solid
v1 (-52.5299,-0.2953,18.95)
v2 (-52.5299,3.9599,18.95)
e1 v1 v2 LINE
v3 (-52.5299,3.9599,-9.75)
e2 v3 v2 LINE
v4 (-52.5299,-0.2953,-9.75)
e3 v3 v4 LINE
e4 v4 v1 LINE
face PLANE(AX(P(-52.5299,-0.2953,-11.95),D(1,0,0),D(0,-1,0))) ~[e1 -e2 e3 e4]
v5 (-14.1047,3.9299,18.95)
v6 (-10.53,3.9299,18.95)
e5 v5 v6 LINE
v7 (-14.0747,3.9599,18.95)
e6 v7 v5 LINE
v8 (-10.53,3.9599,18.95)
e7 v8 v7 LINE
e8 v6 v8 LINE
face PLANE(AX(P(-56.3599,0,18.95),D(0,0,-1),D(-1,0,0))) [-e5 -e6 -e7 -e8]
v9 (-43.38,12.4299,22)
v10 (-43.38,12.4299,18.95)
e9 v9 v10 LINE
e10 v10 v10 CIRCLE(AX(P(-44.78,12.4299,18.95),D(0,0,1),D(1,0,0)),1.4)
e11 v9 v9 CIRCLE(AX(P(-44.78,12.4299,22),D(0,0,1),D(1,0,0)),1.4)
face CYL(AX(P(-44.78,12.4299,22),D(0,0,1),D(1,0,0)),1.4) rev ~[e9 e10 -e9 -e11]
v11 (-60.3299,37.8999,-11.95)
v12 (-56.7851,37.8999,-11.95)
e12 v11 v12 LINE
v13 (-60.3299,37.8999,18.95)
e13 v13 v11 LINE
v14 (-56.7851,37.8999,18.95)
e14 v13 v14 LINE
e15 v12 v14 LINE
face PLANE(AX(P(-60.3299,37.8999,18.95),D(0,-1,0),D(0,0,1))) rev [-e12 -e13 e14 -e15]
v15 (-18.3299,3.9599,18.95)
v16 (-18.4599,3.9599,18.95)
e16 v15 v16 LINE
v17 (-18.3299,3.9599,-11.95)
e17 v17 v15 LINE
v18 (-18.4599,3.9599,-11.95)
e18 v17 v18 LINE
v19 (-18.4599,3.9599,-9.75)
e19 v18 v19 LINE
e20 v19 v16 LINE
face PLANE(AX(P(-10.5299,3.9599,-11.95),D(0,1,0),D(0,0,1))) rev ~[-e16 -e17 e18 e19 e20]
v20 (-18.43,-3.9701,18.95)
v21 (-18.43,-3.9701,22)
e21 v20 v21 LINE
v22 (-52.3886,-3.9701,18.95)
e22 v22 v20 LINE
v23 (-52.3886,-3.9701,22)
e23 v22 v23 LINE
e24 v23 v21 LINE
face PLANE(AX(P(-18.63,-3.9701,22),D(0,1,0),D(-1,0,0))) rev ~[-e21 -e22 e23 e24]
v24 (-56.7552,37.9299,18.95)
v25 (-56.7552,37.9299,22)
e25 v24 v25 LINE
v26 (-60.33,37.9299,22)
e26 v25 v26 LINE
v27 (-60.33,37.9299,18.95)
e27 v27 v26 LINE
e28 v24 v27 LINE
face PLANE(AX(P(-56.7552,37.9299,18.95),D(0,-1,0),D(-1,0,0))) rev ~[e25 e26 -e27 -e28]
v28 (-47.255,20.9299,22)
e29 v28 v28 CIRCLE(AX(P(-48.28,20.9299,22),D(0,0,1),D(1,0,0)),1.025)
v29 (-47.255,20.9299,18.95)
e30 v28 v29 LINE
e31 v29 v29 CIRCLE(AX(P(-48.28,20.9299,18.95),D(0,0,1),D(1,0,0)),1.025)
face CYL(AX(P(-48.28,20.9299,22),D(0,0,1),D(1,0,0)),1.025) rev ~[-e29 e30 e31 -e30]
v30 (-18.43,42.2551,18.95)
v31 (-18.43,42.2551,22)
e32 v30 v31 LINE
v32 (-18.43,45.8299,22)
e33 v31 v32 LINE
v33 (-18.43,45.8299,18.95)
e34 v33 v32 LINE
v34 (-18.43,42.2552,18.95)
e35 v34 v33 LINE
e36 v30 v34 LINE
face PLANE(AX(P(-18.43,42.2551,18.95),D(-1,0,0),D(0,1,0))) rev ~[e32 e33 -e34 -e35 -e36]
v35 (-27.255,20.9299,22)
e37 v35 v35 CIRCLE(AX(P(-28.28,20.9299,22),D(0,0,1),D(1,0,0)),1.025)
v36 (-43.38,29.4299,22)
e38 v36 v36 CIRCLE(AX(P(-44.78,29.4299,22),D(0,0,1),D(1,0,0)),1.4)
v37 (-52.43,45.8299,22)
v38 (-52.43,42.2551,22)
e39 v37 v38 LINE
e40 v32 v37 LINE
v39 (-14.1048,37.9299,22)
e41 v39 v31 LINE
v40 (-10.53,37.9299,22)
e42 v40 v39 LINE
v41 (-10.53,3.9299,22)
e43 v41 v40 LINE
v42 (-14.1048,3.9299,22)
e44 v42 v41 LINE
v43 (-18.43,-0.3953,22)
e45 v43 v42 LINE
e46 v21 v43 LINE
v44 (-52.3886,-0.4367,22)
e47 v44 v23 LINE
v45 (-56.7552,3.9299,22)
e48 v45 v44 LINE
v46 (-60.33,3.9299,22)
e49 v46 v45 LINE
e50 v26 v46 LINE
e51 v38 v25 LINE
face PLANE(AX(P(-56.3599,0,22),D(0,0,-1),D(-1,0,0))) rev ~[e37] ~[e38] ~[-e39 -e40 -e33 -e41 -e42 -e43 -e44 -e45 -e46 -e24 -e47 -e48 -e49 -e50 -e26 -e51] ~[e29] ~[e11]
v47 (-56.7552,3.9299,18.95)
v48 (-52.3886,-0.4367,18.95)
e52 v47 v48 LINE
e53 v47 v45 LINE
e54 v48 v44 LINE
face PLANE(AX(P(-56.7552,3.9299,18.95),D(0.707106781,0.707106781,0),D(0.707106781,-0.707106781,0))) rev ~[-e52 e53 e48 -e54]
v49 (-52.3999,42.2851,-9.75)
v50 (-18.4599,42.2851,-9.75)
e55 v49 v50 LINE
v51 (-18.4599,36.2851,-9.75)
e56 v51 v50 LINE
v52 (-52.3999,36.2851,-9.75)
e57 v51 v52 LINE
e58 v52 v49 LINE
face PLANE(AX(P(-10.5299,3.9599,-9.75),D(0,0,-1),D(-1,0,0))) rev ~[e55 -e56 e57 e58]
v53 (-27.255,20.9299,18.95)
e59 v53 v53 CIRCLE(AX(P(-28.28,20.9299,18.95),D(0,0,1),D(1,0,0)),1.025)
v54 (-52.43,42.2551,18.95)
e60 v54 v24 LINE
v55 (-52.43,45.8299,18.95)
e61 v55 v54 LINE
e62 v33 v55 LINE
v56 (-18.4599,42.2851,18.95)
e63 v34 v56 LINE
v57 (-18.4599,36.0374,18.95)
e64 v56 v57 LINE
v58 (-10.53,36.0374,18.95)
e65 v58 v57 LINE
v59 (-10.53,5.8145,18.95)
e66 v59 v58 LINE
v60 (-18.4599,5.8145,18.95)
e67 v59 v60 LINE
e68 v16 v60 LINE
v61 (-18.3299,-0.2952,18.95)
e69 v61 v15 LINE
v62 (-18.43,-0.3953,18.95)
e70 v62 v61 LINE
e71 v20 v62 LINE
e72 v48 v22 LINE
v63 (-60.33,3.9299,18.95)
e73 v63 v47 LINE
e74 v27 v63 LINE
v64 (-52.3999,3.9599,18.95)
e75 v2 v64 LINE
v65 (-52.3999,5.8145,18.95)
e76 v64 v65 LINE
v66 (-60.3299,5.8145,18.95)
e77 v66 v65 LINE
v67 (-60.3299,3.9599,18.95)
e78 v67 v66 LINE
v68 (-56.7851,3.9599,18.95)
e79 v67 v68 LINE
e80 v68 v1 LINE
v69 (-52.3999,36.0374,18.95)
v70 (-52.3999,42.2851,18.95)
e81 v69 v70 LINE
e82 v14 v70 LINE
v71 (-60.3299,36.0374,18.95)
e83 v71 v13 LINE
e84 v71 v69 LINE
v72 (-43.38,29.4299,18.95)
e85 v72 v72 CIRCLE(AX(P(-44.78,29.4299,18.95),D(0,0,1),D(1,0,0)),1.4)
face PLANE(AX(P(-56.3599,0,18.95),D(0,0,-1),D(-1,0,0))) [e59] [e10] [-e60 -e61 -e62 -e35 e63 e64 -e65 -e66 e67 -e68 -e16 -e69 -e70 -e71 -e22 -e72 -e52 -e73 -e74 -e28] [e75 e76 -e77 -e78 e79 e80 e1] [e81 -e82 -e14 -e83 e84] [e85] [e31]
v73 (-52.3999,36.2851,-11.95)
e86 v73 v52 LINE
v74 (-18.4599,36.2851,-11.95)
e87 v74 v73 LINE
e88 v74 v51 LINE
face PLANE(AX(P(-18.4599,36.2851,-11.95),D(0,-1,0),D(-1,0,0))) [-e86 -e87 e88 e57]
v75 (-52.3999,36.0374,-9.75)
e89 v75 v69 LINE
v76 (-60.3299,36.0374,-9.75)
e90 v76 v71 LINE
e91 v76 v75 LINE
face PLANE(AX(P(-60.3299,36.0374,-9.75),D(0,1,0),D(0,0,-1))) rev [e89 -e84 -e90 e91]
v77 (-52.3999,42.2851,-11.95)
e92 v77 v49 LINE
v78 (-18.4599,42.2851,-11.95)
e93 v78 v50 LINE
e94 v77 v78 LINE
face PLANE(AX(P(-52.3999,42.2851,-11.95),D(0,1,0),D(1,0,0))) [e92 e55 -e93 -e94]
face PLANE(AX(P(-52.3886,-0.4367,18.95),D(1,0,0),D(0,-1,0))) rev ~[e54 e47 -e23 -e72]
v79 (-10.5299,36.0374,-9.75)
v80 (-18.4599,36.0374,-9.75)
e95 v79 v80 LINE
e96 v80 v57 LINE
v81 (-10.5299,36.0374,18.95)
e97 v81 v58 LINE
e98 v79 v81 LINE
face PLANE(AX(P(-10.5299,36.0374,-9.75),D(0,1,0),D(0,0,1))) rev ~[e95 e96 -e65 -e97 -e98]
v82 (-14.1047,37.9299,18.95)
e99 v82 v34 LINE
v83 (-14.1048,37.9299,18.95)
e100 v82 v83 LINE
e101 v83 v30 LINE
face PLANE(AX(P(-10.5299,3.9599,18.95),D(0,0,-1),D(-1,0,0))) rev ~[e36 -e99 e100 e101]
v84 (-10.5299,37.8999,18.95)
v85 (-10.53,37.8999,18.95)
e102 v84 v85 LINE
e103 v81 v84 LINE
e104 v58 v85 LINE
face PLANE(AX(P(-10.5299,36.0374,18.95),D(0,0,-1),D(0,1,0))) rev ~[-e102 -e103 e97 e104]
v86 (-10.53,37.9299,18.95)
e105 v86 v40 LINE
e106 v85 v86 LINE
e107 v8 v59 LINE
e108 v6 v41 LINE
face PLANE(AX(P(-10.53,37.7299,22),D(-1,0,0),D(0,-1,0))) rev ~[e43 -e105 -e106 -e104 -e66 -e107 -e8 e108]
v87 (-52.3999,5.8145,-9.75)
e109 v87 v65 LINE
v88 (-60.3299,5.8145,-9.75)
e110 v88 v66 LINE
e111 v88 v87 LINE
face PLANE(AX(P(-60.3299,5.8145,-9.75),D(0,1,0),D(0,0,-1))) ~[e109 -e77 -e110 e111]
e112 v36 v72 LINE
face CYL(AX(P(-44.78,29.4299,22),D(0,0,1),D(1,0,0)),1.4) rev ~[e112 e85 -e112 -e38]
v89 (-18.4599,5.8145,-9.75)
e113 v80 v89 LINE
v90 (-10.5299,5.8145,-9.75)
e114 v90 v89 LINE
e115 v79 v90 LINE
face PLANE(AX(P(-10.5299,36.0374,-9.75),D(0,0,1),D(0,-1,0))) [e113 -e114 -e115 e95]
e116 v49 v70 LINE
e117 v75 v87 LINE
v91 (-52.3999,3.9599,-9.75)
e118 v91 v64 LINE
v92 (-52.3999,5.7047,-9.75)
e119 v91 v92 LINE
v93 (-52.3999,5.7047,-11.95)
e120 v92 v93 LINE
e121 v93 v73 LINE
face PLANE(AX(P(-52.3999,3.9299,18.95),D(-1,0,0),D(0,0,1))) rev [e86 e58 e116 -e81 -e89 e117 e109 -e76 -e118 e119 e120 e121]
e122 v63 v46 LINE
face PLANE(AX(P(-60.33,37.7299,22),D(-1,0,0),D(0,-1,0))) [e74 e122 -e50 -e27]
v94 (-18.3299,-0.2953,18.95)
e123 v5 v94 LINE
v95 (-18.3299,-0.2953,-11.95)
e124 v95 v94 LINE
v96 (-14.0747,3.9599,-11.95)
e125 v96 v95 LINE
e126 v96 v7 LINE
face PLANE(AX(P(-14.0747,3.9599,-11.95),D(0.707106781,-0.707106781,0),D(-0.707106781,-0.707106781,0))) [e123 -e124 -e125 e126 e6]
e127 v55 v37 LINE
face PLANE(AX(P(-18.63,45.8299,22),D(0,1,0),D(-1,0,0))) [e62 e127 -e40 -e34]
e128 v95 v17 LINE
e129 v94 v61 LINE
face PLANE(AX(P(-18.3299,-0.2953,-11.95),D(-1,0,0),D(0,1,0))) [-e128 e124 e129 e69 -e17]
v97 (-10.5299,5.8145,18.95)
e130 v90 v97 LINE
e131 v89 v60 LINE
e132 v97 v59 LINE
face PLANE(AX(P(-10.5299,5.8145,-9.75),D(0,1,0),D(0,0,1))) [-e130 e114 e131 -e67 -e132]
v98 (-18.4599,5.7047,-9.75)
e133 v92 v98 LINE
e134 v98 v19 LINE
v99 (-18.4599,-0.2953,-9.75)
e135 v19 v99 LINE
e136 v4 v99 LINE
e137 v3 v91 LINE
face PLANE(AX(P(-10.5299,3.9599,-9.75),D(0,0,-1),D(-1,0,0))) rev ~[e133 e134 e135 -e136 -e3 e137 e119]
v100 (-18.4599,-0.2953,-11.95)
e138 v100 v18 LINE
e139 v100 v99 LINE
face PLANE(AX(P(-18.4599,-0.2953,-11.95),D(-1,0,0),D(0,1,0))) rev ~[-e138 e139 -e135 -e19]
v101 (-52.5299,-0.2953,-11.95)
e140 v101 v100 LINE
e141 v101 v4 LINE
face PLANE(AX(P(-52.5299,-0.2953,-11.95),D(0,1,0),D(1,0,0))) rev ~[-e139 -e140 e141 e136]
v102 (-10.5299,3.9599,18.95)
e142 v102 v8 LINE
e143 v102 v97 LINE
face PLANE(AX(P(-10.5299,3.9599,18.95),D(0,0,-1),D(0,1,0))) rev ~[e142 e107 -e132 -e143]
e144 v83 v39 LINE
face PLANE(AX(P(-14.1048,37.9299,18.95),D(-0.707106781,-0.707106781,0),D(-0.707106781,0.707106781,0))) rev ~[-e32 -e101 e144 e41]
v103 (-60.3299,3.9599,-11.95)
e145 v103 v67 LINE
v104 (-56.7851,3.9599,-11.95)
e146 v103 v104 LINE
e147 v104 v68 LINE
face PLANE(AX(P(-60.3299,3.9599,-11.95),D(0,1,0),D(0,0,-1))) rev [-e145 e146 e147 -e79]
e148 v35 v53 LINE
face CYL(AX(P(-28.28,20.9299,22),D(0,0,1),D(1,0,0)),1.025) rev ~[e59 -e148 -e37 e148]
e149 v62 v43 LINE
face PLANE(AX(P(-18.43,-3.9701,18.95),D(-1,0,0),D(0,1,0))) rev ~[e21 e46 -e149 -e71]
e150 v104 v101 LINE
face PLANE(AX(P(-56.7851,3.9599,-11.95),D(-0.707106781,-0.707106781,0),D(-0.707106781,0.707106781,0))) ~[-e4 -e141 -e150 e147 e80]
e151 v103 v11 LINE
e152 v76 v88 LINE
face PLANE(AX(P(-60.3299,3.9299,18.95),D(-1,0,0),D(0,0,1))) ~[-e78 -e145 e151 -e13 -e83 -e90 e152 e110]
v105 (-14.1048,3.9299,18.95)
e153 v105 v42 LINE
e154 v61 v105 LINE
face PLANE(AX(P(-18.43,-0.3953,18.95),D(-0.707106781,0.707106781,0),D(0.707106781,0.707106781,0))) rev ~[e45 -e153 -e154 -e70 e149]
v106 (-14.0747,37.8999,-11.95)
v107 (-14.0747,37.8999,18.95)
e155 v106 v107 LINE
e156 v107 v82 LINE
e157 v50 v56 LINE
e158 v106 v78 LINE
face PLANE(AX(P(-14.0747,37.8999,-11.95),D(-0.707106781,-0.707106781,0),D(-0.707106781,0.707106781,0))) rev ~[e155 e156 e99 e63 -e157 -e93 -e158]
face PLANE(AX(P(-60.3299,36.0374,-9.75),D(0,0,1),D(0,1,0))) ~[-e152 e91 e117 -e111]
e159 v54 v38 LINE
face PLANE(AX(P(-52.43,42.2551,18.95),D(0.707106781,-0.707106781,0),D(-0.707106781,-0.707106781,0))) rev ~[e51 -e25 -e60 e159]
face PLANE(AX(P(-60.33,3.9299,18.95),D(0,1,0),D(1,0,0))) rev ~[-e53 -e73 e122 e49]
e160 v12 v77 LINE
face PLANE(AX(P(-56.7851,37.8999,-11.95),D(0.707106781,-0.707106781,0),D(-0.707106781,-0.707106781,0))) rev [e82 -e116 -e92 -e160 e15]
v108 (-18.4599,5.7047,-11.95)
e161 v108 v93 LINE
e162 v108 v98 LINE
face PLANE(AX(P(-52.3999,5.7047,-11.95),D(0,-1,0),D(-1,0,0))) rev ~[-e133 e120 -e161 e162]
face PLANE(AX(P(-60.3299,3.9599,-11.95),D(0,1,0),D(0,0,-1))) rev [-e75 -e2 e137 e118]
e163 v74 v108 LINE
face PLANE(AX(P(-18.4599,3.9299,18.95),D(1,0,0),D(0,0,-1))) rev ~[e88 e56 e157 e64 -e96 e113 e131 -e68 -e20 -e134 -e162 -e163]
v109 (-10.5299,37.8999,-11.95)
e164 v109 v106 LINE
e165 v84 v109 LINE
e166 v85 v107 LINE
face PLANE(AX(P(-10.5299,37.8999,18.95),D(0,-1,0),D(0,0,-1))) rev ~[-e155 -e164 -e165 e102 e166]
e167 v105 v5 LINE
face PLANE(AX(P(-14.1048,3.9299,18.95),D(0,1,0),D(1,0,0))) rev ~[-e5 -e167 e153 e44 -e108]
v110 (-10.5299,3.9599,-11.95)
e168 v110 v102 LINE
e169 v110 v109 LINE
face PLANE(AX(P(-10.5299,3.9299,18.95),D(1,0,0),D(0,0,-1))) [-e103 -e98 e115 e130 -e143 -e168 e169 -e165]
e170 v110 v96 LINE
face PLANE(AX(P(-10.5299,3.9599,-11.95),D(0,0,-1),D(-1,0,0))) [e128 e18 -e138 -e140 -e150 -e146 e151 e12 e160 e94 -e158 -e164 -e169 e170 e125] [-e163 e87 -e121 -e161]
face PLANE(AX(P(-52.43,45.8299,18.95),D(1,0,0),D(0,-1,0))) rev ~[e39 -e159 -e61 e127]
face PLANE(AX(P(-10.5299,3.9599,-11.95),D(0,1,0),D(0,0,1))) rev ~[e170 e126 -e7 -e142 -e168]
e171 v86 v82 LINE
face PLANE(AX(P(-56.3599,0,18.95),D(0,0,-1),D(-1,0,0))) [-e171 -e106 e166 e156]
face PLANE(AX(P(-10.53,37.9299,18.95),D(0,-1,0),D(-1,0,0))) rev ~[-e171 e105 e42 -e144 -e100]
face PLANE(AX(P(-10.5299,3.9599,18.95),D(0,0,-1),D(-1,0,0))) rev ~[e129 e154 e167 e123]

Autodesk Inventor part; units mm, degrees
ref_plane "Work Plane1" through (-56.3599, 0, 22) normal (0, 0, -1) x (-1, 0, 0)
ref_plane "Arbeitsebene9" through (-61.2799, 5.9299, 18.95) normal (0, 0, 1) x (1, 0, 0)
sketch "Sketch1" plane through (-56.3599, 0, 22) normal (0, 0, -1) x (-1, 0, 0)
  line L0 (-4.0299, -0.3538) -> (-2.2322, 1.4439) construction
  arc A0 (-1.4439, 2.2322) -> (-2.2322, 1.4439) centre (-0.9299, 0.9299) ccw construction
  line L1 (-1.4439, 2.2322) -> (0.3538, 4.0299) construction
  line L2 (-37.8299, 42.8299) -> (-37.8299, 37.8299) construction
  line L3 (-37.8299, 37.8299) -> (-42.9208, 37.8299) construction
  line L4 (-37.8299, 42.2137) -> (-37.8299, 45.8299) construction
  line L5 (-37.8299, 45.8299) -> (-4.0299, 45.8299) construction
  line L6 (-4.0299, 45.8299) -> (-4.0299, 42.2137) construction
  line L7 (-4.0299, 4.0299) -> (0.3538, 4.0299) projected
  circle A1 centre (-20.9299, 20.9299) radius 17.5 projected
  line L8 (-20.9299, 58.9723) -> (17.1124, 20.9299) construction
  line L9 (17.1124, 20.9299) -> (-20.9299, -17.1124) construction
  line L10 (-20.9299, -17.1124) -> (-58.9723, 20.9299) construction
  line L11 (-58.9723, 20.9299) -> (-20.9299, 58.9723) construction
  line L12 (-20.9299, 58.9723) -> (-20.9299, -17.1124) construction
  line L13 (17.1124, 20.9299) -> (-58.9723, 20.9299) construction
  line L14 (-20.9299, 58.9723) -> (32.8701, 58.9723) construction
  line L15 (-43.4299, 43.4299) -> (1.5701, 43.4299) construction
  line L16 (1.5701, 43.4299) -> (1.5701, -1.5701) construction
  line L17 (1.5701, -1.5701) -> (-43.4299, -1.5701) construction
  line L18 (-43.4299, -1.5701) -> (-43.4299, 43.4299) construction
  line L19 (-43.4299, 43.4299) -> (1.5701, -1.5701) construction
  line L20 (1.5701, 43.4299) -> (-43.4299, -1.5701) construction
  line L21 (-43.4299, 5.3876) -> (-43.4299, 36.4723)
  line L22 (-43.4299, 36.4723) -> (-36.4723, 43.4299)
  line L23 (-36.4723, 43.4299) -> (-5.3876, 43.4299)
  line L24 (-5.3876, 43.4299) -> (1.5701, 36.4723)
  line L25 (1.5701, 36.4723) -> (1.5701, 5.3876)
  line L26 (1.5701, 5.3876) -> (-5.3876, -1.5701)
  line L27 (-5.3876, -1.5701) -> (-36.4723, -1.5701)
  line L28 (-36.4723, -1.5701) -> (-43.4299, 5.3876)
  line L29 (-4.0299, 42.2137) -> (-37.8299, 42.2137) projected
  line L30 (-4.0299, -0.3538) -> (-4.0299, 4.0299) projected
  circle A2 centre (-20.9299, 20.9299) radius 1.5
  line L31 (-10.9299, 10.9299) -> (-30.9299, 10.9299) construction
  line L32 (-30.9299, 10.9299) -> (-30.9299, 30.9299) construction
  line L33 (-30.9299, 30.9299) -> (-10.9299, 30.9299) construction
  line L34 (-10.9299, 30.9299) -> (-10.9299, 10.9299) construction
  line L35 (-10.9299, 10.9299) -> (-30.9299, 30.9299) construction
  line L36 (-30.9299, 10.9299) -> (-10.9299, 30.9299) construction
  circle A3 centre (-30.9299, 30.9299) radius 1.4
  circle A4 centre (-30.9299, 10.9299) radius 1.4
  circle A5 centre (-10.9299, 10.9299) radius 1.4
  line L37 (-45.8299, 37.8299) -> (-42.0723, 37.8299) construction
  line L38 (-42.1723, 37.7299) -> (-45.8299, 37.7299)
  line L39 (-45.8299, 37.7299) -> (-45.8299, 4.1299)
  line L40 (-45.8299, 4.1299) -> (-42.1723, 4.1299)
  line L41 (-42.1723, 4.1299) -> (-42.1723, 37.7299)
  line L42 (-45.8299, 4.0299) -> (-42.0723, 4.0299) construction
  line L43 (-45.8299, 37.8299) -> (-42.0723, 37.8299) projected
  line L44 (-37.7299, 45.8299) -> (-4.1299, 45.8299)
  line L45 (-4.1299, 45.8299) -> (-4.1299, 42.1723)
  line L46 (-4.1299, 42.1723) -> (-37.7299, 42.1723)
  line L47 (-37.7299, 42.1723) -> (-37.7299, 45.8299)
  line L48 (0.4701, 37.8299) -> (0.4701, 4.0299) construction
  line L49 (0.4701, 4.0299) -> (3.9701, 4.0299) construction
  line L50 (3.9701, 37.8299) -> (3.9701, 4.0299) construction
  line L51 (0.4701, 37.8299) -> (3.9701, 37.8299) construction
  line L52 (-45.8299, -3.9701) -> (-4.0299, -3.9701) construction
  line L53 (0.3124, 37.7299) -> (3.9701, 37.7299)
  line L54 (3.9701, 37.7299) -> (3.9701, 4.1299)
  line L55 (3.9701, 4.1299) -> (0.3124, 4.1299)
  line L56 (0.3124, 4.1299) -> (0.3124, 37.7299)
  line L57 (-4.1713, -0.3538) -> (-37.7299, -0.3538)
  line L58 (-37.7299, -0.3538) -> (-37.7299, -3.9701)
  line L59 (-37.7299, -3.9701) -> (-4.1713, -3.9701)
  line L60 (-4.1713, -3.9701) -> (-4.1713, -0.3538)
  point P0 (-37.8299, 4.0299)
  dimension "d18" = 53.8
  dimension "d19" = 45
  dimension "d20" = 53.8
  dimension "d21" = 45
  dimension "d22" = 45
  dimension "d30" = 20
  dimension "d31" = 20
  dimension "d32" = 2.8
  dimension "d33" = 2.8
  dimension "d34" = 2.8
  dimension "d35" = 3
  dimension "d36" = 0.1
  dimension "d37" = 0.1
  dimension "d38" = 0.1
  dimension "d39" = 0.1
extrude "Extrusion1" add sketch "Sketch1" along normal up to surface (3.05 mm away) contours L30 L26 L57 L28 L41 L22 L46 L24 L56 L7 | L7 L26 L30 | L56 L24 L25 L26 | L26 L25 L24 L53 L54 L55 | L60 L59 L58 L57 L28 L27 L26 | L26 L27 L28 L57 | L46 L22 L29 L24 | L24 L29 L45 | L40 L39 L38 L22 L21 L28 | L28 L21 L22 L41 | L29 L22 L23 L24 | L24 L23 L22 L29 L47 L44 L45 | L47 L29 L22 | A1 | A2 | A3 | A4 | A5
sketch "Skizze4" plane through (-56.3599, 0, 18.95) normal (0, 0, -1) x (-1, 0, 0)
  line L0 (-37.7299, 42.1723) -> (-42.1723, 37.7299) projected
  line L1 (-42.1723, 37.7299) -> (-45.8299, 37.7299) projected
  line L2 (-45.8299, 37.7299) -> (-45.8299, 4.1299) construction
  line L3 (-45.8299, 4.1299) -> (-42.1723, 4.1299) projected
  line L4 (-42.1723, 4.1299) -> (-37.6885, -0.3538) projected
  line L5 (-37.6885, -0.3538) -> (-37.7299, -0.3538) projected
  line L6 (-37.7299, -0.3538) -> (-37.7299, -3.9701) projected
  line L7 (-37.7299, -3.9701) -> (-4.1713, -3.9701) construction
  line L8 (-4.1713, -3.9701) -> (-4.1713, -0.3538) projected
  line L9 (-4.1713, -0.3538) -> (0.3124, 4.1299) projected
  line L10 (0.3124, 4.1299) -> (3.9701, 4.1299) projected
  line L11 (3.9701, 4.1299) -> (3.9701, 37.7299) construction
  line L12 (3.9701, 37.7299) -> (0.3124, 37.7299) projected
  line L13 (0.3124, 37.7299) -> (-4.1299, 42.1723) projected
  line L14 (-4.1299, 42.1723) -> (-4.1299, 45.8299) projected
  line L15 (-4.1299, 45.8299) -> (-37.7299, 45.8299) construction
  line L16 (-37.7299, 45.8299) -> (-37.7299, 42.1723) projected
  line L17 (-37.9299, 46.0299) -> (-3.9299, 46.0299) construction
  line L18 (-3.9299, 46.0299) -> (-3.9299, 42.2551)
  line L19 (-3.9299, 42.2551) -> (0.3953, 37.9299)
  line L20 (0.3953, 37.9299) -> (4.1701, 37.9299)
  line L21 (4.1701, 37.9299) -> (4.1701, 3.9299) construction
  line L22 (4.1701, 3.9299) -> (0.3953, 3.9299)
  line L23 (0.3953, 3.9299) -> (-3.9713, -0.4367)
  line L24 (-3.9713, -0.4367) -> (-3.9713, -4.1701)
  line L25 (-3.9713, -4.1701) -> (-37.9299, -4.1701) construction
  line L26 (-37.9299, -4.1701) -> (-37.9299, -0.3953)
  line L27 (-37.9299, -0.3953) -> (-42.2551, 3.9299)
  line L28 (-42.2551, 3.9299) -> (-46.0299, 3.9299)
  line L29 (-46.0299, 3.9299) -> (-46.0299, 37.9299) construction
  line L30 (-46.0299, 37.9299) -> (-42.2551, 37.9299)
  line L31 (-42.2551, 37.9299) -> (-37.9299, 42.2551)
  line L32 (-37.9299, 42.2551) -> (-37.9299, 46.0299)
  line L33 (-45.8299, 37.7299) -> (-45.8299, 37.9299)
  line L34 (-4.1299, 45.8299) -> (-37.7299, 45.8299) projected
  line L35 (-37.7299, 45.8299) -> (-37.9299, 45.8299)
  line L36 (-4.1299, 45.8299) -> (-3.9299, 45.8299)
  line L37 (3.9701, 37.7299) -> (3.9701, 37.9299)
  line L38 (3.9701, 4.1299) -> (3.9701, 37.7299) projected
  line L39 (3.9701, 4.1299) -> (3.9701, 3.9299)
  line L40 (-4.1713, -3.9701) -> (-3.9713, -3.9701)
  line L41 (-37.7299, -3.9701) -> (-37.9299, -3.9701)
  line L42 (-45.8299, 4.1299) -> (-45.8299, 3.9299)
  point P0 (-56.3599, 0)
  dimension "d40" = 0.2
extrude "IM_offset" add sketch "Skizze4" against normal up to surface (3.05 mm away)
ref_plane "Arbeitsebene5" through (-35.4299, 3.9299, 22) normal (-1, 0, 0) x (0, 0, 1)
ref_plane "Arbeitsebene6" through (-18.4299, 20.9299, 22) normal (0, 1, 0) x (-1, 0, 0)
sketch "Skizze31" plane through (-10.5299, 3.9299, 18.95) normal (1, 0, 0) x (0, 0, -1)
  line L0 (0, 0) -> (0, 34) projected
  line L1 (0, 34) -> (-3.05, 34) projected
  line L2 (-3.05, 0) -> (-3.05, 34) projected
  line L3 (0, 0) -> (-3.05, 0) projected
  line L4 (-3.05, -5.85) -> (-10.55, -5.85) projected
  line L5 (-3.05, 33.97) -> (-3.05, -5.85) projected
  line L6 (-3.05, 33.97) -> (31.05, 33.97) projected
  line L7 (31.05, 39.85) -> (31.05, 33.97) projected
  line L8 (-10.55, 39.85) -> (31.05, 39.85) projected
  line L9 (-10.55, -5.85) -> (-10.55, 39.85) projected
  line L10 (31.05, 39.85) -> (38.55, 39.85) projected
  line L11 (31.05, 0.03) -> (31.05, 39.85) projected
  line L12 (31.05, 0.03) -> (-3.05, 0.03) projected
  line L13 (-3.05, -5.85) -> (-3.05, 0.03) projected
  line L14 (38.55, -5.85) -> (-3.05, -5.85) projected
  line L15 (38.55, 39.85) -> (38.55, -5.85) projected
  line L16 (0, 0) -> (0, 34) projected
  line L17 (0, 33.97) -> (30.9, 33.97)
  line L18 (30.9, 33.97) -> (30.9, 32.1075)
  line L19 (30.9, 32.1075) -> (0, 32.1075)
  line L20 (0, 32.1075) -> (0, 33.97)
  line L21 (30.9, 1.8846) -> (0, 1.8846)
  line L22 (0, 1.8846) -> (0, 0.03)
  line L23 (0, 0.03) -> (30.9, 0.03)
  line L24 (30.9, 0.03) -> (30.9, 1.8846)
  circle A0 centre (20.35, 17) radius 6.5 projected
  line L25 (30.9, 32.1075) -> (30.9, 1.8846)
  line L26 (28.5, 2) -> (28.5, 32) projected
  line L27 (28.7, 32.1075) -> (28.7, 1.8846)
  point P0 (18.95, -3.9299)
  point P1 (0, 33.97)
  point P2 (0, 1.8846)
  point P3 (0, 0.03)
  dimension "d181" = 0
  dimension "d182" = 0
  dimension "d183" = 0.15
  dimension "d184" = 0.2
ref_plane "Arbeitsebene10" through (-18.4599, -3.9201, -16.28) normal (-1, 0, 0) x (0, 0, 1)
extrude "Extrusion26" add sketch "Skizze31" against normal up to surface (7.93 mm away) contours L0 L21 L24 L12 | L0 L6 L18 L19 | L27 L19 L25 L21
sketch "Skizze32" plane through (-10.5299, 3.9599, -11.95) normal (0, 0, -1) x (-1, 0, 0)
  line L0 (0, 0) -> (0, 33.94) projected
  line L1 (0, 33.94) -> (7.93, 33.94) projected
  line L2 (0, 0) -> (7.93, 0) projected
  line L3 (7.9, -4.3552) -> (3.5748, -0.03) construction
  line L4 (4.3761, 34.7834) -> (7.1197, 37.7973) construction
  line L5 (7.9, 38.2952) -> (3.5748, 33.97) construction
  line L6 (3.5448, 33.94) -> (7.93, 38.3252)
  line L7 (7.93, 38.3252) -> (7.93, 33.94)
  line L8 (7.93, 1.8546) -> (7.93, 0) projected
  line L9 (7.93, 0) -> (7.93, -0.13)
  line L10 (3.5448, 0) -> (7.8, -4.2552)
  line L11 (7.8, -4.2552) -> (7.8, 0)
  point P0 (-10.5299, -3.9599)
  dimension "d187" = 45
  dimension "d188" = 0
  dimension "d189" = 0
extrude "Extrusion27" add sketch "Skizze32" against normal up to surface (30.9 mm away)
mirror "Spiegeln2" about plane through (-35.4299, 3.9299, 22) normal (-1, 0, 0) of "Extrusion26", "Extrusion27"
sketch "Skizze33" plane through (-10.5299, 3.9599, -11.95) normal (0, 0, -1) x (-1, 0, 0)
  line L0 (0.05, 39.82) -> (0.05, -5.88) projected
  line L1 (41.87, 0) -> (41.87, 38.3252) projected
  line L2 (7.93, 0) -> (7.93, 38.3252) projected
  line L3 (41.87, 38.3252) -> (7.93, 38.3252)
  line L4 (7.93, 38.3252) -> (7.93, 32.3252)
  line L5 (7.93, 32.3252) -> (41.87, 32.3252)
  line L6 (41.87, 32.3252) -> (41.87, 38.3252)
  line L7 (46.2552, 0) -> (42, -4.2552) projected
  line L8 (42, -4.2552) -> (7.93, -4.2552)
  line L9 (7.93, -4.2552) -> (7.93, 1.7448)
  line L10 (7.93, 1.7448) -> (42, 1.7448)
  line L11 (42, 1.7448) -> (42, -4.2552)
  point P0 (-10.5299, -3.9599)
  point P1 (7.93, 38.3252)
  point P2 (41.87, 32.3252)
  dimension "d192" = 6
  dimension "d193" = 6
extrude "Extrusion28" add sketch "Skizze33" against normal up to surface (2.2 mm away) contours L5 L2 L3 L1 | L10 L11 L8 L9 L2
sketch "Skizze34" plane through (-56.3599, 0, 22) normal (0, 0, 1) x (1, 0, 0)
  line L0 (-4.9201, 35.9299) -> (-4.9201, 5.9299) projected
  line L1 (83.0799, 5.9299) -> (-4.9201, 5.9299) projected
  line L2 (83.0799, 35.9299) -> (83.0799, 5.9299) projected
  line L3 (83.0799, 35.9299) -> (-4.9201, 35.9299) projected
  circle A0 centre (8.0799, 20.9299) radius 1.025 projected
  circle A1 centre (28.0799, 20.9299) radius 1.025 projected
  circle A2 centre (48.0799, 20.9299) radius 1.025 projected
  circle A3 centre (68.0799, 20.9299) radius 1.025 projected
  circle A4 centre (66.5799, 29.4299) radius 1.7 projected
  circle A5 centre (66.5799, 12.4299) radius 1.7 projected
  circle A6 centre (11.5799, 12.4299) radius 1.7 construction
  circle A7 centre (11.5799, 29.4299) radius 1.7 construction
  circle A8 centre (11.5799, 12.4299) radius 1.4
  circle A9 centre (11.5799, 29.4299) radius 1.4
  point P0 (56.3599, 0)
  dimension "d198" = 2.8
  dimension "d199" = 2.8
extrude "Extrusion29" cut sketch "Skizze34" against normal blind 10 contours A0 | A1 | A8 | A9
properties part number "20_Cube_Insert_Cube_Z-Stage_NEMA11_china_v3"
